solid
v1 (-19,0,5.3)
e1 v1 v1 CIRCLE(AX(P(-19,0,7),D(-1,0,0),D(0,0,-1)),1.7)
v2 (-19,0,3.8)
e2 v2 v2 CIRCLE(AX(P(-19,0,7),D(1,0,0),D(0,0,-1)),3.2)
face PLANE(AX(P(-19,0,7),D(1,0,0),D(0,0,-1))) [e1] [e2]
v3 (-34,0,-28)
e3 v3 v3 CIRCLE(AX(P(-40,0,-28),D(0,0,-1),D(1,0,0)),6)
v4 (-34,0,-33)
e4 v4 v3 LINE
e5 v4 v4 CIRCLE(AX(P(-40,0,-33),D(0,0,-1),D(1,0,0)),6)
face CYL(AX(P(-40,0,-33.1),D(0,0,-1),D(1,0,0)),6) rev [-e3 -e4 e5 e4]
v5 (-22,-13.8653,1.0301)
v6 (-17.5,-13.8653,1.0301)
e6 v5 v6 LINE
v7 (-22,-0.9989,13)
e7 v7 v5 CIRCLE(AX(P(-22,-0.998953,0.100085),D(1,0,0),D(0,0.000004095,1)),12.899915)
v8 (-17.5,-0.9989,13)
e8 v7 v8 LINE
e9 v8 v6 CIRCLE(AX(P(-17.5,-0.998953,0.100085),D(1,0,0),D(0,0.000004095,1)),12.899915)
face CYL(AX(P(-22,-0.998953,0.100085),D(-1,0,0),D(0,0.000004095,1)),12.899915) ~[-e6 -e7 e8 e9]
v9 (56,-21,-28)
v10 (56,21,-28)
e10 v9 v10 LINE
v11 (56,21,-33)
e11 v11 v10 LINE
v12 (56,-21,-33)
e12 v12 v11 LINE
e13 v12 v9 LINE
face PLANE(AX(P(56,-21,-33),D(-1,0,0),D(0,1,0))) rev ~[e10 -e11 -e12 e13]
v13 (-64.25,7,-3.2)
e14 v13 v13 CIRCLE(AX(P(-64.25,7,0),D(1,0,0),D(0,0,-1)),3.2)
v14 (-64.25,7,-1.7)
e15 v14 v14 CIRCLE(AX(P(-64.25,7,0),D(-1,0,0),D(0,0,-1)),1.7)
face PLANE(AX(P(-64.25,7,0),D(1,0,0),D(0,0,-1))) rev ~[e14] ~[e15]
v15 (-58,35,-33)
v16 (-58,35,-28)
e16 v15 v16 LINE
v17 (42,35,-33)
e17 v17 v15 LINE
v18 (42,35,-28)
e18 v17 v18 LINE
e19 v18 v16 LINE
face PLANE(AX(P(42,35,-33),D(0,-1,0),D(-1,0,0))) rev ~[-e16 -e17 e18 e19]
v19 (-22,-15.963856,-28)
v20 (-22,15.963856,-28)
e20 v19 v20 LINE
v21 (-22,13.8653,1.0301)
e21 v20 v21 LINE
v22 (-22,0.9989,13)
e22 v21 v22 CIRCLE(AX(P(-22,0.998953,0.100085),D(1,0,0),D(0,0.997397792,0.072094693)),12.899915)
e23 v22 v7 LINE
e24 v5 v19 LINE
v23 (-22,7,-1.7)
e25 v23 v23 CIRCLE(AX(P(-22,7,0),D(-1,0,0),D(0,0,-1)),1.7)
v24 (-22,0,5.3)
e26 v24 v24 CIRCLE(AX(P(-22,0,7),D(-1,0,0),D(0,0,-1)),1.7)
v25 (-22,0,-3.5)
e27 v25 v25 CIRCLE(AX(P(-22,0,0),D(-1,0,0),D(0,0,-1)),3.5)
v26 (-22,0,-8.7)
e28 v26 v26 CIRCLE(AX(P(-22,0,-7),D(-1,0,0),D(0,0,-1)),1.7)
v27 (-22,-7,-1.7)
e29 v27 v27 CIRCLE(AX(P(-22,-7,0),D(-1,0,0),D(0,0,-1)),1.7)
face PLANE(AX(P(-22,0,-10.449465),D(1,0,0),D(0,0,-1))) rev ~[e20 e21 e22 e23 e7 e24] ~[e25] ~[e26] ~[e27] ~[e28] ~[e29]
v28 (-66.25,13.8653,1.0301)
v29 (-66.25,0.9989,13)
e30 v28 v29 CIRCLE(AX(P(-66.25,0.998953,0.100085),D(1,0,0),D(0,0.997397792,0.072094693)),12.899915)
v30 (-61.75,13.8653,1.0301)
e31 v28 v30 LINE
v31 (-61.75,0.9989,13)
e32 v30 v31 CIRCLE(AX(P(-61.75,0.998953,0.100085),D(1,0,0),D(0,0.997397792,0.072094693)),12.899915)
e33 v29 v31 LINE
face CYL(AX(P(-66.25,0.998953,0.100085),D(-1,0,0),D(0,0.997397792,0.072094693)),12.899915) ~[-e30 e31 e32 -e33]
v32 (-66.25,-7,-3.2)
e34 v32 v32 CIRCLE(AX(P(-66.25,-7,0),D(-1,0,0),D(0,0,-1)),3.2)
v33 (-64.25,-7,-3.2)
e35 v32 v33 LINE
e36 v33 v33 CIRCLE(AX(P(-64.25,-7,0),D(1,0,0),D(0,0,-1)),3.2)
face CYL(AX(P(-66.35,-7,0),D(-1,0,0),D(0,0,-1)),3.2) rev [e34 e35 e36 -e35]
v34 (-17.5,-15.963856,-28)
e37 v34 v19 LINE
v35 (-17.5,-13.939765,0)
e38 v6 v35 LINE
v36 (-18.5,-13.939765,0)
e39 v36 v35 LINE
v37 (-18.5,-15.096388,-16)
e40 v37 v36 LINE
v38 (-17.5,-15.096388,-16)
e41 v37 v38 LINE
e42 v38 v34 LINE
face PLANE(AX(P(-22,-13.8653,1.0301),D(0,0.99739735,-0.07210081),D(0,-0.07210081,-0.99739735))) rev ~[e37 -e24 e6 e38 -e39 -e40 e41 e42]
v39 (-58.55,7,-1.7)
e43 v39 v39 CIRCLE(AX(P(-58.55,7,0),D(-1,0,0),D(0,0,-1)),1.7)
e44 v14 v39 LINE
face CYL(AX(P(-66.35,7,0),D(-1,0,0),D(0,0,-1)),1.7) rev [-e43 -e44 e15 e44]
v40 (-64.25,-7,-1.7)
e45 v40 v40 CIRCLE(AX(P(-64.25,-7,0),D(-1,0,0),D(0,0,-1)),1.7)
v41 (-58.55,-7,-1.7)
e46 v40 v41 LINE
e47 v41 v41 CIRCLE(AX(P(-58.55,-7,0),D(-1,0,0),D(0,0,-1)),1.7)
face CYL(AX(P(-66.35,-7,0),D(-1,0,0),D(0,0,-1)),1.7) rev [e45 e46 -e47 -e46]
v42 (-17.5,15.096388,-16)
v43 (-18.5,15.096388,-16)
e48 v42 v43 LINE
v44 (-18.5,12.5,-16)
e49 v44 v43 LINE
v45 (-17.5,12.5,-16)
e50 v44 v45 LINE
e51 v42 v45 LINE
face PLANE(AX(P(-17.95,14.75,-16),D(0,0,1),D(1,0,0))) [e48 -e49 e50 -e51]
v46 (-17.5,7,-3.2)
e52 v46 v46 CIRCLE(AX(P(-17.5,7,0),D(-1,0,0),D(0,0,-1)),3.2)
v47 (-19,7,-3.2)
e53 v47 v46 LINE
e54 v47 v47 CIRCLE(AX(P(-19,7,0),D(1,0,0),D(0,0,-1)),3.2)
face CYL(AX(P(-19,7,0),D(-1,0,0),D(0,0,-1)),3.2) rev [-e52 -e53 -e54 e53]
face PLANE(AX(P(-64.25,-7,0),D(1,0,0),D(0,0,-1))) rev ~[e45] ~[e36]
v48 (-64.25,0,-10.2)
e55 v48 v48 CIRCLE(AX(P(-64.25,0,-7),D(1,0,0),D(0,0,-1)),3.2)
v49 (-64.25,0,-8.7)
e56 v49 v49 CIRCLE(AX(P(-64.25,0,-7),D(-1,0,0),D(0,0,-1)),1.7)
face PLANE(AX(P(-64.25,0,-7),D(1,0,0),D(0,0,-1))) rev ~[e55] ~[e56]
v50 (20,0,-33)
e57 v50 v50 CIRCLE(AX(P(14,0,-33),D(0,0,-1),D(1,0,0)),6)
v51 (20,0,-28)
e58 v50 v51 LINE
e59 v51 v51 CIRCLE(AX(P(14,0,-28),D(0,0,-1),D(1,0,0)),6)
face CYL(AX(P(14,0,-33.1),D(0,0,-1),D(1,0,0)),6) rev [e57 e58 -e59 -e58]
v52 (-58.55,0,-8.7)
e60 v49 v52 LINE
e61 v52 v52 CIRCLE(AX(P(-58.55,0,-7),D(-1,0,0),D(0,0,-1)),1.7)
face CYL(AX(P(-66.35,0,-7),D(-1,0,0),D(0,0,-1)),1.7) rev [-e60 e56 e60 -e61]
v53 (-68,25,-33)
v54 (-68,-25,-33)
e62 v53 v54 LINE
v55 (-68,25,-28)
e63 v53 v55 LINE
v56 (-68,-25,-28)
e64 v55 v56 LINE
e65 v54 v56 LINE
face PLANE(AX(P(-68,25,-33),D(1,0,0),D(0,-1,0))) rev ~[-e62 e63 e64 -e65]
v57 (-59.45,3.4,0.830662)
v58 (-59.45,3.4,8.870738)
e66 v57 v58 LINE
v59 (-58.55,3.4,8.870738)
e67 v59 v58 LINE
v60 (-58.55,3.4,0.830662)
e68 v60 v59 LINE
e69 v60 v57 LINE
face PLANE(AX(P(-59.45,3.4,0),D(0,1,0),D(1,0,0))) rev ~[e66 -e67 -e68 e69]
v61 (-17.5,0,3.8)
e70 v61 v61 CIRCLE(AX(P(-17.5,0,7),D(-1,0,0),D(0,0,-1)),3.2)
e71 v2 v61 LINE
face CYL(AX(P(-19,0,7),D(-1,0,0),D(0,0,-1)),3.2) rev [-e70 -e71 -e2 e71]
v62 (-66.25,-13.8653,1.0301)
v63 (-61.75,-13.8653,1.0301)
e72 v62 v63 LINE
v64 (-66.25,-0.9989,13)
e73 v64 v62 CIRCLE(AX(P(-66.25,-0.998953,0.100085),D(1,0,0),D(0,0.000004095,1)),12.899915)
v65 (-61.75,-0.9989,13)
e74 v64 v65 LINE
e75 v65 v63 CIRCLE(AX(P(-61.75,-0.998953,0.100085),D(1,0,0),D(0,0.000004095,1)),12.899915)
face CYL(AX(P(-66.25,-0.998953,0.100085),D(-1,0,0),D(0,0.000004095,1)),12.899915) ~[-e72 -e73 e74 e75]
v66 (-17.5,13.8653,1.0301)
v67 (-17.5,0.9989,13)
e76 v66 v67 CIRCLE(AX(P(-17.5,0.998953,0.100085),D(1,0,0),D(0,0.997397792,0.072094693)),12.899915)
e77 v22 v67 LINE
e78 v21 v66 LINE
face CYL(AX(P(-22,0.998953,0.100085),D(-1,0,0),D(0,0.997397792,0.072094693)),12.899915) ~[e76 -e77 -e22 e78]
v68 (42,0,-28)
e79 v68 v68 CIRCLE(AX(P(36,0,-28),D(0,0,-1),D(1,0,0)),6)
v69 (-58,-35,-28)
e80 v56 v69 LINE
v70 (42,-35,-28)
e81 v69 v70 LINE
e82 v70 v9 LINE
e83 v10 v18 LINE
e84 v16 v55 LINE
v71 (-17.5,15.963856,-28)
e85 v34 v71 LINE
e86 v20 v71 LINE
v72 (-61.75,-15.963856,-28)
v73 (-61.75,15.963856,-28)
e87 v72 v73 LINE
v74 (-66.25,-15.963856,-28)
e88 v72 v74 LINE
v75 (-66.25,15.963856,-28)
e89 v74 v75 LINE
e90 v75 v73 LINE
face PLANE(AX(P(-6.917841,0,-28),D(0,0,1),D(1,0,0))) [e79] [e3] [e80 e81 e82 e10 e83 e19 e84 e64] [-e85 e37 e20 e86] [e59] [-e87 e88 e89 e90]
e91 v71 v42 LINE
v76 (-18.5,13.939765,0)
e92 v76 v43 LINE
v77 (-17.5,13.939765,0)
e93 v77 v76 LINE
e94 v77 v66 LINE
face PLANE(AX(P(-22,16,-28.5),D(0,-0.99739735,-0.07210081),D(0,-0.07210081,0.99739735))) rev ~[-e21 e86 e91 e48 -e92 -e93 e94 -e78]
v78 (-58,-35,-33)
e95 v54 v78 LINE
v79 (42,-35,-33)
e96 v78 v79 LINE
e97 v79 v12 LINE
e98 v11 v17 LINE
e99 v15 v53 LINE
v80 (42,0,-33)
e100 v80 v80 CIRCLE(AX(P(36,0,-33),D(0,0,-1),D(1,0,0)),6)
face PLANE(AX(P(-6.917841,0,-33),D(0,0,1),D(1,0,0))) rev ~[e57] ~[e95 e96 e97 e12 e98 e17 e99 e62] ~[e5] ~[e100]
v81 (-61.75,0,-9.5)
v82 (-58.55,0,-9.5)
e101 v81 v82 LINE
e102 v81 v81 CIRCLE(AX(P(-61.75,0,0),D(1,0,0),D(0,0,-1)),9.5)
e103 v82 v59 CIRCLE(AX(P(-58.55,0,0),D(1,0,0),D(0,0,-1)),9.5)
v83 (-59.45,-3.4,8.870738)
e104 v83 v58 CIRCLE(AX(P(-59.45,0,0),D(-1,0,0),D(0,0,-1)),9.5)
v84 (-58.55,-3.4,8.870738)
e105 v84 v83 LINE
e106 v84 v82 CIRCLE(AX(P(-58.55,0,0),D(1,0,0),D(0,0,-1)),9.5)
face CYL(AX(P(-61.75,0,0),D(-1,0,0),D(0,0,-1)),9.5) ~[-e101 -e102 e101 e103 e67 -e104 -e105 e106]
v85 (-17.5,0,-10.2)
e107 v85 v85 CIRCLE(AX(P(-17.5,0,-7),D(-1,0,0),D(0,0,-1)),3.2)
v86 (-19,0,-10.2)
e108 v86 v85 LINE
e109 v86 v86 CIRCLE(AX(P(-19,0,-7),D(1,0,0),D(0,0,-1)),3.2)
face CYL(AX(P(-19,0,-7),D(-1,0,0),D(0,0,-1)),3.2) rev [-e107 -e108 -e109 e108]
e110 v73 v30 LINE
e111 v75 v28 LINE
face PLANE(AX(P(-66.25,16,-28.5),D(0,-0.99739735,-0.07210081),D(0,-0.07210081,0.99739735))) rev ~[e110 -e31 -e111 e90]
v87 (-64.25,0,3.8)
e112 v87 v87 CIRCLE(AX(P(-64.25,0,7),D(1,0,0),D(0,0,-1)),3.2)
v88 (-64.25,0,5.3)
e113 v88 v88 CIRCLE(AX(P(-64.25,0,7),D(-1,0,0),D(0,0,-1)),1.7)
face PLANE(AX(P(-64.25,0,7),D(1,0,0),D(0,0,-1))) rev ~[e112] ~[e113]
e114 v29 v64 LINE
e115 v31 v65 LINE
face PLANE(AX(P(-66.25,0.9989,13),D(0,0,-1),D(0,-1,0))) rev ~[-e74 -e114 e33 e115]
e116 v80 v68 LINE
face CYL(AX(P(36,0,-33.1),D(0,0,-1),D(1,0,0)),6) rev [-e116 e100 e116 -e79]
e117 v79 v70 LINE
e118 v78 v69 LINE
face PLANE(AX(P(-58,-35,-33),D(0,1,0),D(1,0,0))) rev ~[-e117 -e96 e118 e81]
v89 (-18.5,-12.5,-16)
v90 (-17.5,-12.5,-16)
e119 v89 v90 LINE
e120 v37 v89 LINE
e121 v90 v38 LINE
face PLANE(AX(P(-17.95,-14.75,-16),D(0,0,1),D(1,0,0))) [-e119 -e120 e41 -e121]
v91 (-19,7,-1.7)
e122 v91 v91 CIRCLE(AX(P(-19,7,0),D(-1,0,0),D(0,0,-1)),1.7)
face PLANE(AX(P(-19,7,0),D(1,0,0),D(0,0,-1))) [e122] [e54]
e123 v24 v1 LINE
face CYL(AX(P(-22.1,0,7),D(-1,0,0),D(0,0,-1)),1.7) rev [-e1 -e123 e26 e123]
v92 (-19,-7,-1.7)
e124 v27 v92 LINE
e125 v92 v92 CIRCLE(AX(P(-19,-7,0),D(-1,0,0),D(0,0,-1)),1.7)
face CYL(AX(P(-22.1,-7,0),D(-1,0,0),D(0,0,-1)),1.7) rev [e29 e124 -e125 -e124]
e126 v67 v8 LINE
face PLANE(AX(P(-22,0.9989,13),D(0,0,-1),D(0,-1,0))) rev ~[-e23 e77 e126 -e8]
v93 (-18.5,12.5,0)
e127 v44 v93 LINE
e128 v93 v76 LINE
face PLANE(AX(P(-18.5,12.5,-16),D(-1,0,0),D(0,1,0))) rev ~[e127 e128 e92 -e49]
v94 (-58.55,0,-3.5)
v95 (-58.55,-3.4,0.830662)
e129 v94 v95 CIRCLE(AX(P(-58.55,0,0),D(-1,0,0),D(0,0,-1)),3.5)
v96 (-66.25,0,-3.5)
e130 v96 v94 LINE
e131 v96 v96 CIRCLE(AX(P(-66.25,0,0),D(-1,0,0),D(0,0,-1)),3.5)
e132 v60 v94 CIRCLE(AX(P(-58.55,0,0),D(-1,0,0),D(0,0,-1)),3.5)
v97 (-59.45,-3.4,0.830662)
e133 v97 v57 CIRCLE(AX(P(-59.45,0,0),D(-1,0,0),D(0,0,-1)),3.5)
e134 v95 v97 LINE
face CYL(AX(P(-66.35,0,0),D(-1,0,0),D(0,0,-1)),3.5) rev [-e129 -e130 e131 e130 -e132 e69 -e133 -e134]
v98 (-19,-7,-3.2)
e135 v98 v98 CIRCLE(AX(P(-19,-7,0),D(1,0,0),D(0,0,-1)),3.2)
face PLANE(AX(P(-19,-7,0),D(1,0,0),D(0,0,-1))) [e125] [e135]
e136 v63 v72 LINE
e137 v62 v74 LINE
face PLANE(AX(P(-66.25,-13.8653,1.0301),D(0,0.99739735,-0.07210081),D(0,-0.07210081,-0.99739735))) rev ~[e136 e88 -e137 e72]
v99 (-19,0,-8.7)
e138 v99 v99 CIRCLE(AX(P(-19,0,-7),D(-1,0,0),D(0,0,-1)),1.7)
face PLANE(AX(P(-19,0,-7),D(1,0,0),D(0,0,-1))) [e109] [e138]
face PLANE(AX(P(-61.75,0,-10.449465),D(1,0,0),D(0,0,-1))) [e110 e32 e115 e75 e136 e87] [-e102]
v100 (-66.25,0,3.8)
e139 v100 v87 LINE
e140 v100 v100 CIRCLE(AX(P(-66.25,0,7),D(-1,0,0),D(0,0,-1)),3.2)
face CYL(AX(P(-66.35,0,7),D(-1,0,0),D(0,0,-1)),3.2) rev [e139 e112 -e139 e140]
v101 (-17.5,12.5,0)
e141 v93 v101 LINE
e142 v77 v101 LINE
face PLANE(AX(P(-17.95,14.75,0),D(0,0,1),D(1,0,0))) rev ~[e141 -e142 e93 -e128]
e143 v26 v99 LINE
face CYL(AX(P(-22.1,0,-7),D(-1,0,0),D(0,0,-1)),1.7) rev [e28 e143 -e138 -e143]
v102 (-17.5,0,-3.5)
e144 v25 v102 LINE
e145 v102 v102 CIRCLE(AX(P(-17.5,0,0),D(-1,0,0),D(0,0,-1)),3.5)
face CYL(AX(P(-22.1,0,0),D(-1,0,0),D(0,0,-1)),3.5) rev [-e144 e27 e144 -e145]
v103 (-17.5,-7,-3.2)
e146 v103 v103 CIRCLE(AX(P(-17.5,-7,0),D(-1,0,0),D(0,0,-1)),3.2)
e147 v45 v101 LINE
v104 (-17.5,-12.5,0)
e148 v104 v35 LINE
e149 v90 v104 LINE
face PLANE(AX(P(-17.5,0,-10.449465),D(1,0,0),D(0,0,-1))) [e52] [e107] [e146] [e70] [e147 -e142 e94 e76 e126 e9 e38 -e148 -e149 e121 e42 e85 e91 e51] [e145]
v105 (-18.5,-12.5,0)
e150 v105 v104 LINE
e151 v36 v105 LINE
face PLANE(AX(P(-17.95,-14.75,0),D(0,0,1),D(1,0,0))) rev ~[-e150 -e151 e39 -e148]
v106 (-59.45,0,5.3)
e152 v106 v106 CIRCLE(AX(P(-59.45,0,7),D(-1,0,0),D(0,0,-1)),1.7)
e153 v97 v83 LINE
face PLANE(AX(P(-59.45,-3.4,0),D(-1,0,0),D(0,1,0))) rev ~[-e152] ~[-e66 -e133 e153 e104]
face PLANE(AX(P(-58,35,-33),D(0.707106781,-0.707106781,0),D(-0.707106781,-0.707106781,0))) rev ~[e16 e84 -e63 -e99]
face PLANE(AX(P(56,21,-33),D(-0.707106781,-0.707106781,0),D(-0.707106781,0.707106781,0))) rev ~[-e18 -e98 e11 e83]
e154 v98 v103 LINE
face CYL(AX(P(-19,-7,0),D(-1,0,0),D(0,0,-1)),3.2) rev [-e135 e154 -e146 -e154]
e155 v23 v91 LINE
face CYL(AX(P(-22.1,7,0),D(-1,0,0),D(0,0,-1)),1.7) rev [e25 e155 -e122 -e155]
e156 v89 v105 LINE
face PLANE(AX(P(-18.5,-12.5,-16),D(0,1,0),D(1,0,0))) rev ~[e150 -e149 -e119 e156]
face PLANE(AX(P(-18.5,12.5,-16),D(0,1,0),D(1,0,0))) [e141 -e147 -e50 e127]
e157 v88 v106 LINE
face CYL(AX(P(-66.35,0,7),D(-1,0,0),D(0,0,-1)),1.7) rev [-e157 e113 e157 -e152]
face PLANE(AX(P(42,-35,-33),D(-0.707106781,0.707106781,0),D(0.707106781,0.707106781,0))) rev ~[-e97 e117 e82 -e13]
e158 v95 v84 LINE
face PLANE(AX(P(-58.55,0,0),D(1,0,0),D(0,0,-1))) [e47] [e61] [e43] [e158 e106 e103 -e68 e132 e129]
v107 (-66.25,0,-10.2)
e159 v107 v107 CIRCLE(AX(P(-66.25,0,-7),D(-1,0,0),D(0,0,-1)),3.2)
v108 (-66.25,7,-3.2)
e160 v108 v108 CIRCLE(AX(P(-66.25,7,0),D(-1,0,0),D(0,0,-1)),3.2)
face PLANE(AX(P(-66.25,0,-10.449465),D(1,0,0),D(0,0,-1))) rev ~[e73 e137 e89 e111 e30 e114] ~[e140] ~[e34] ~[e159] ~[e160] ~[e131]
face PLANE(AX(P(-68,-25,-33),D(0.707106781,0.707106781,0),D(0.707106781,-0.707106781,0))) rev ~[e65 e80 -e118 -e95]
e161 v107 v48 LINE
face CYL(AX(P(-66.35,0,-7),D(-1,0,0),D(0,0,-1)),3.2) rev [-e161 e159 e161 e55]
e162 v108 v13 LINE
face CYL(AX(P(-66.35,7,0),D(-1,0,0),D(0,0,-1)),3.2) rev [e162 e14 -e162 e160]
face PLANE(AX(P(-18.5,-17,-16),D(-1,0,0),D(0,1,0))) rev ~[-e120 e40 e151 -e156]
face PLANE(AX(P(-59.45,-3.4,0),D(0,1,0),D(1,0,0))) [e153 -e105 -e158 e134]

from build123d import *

# Parameters (mm, degrees)
BOSS_1_DEPTH    = 5
BOSS_2_DEPTH    = 4.5
S_CYL3_R        = 9.5
BOSS_3_DEPTH    = 3.2
BOSS_4_DEPTH    = 4.5
S_HOLE5_R       = 3.5
HOLE_5_DEPTH    = 4.7
S_HOLE6_R       = 1.7
HOLE_6_DEPTH    = 4.7
S_HOLE7_R       = 1.7
HOLE_7_DEPTH    = 4.7
S_HOLE8_R       = 1.7
HOLE_8_DEPTH    = 4.7
S_HOLE9_R       = 1.7
HOLE_9_DEPTH    = 4.7
S_HOLE10_R      = 3.2
HOLE_10_DEPTH   = 1.6
S_HOLE11_R      = 3.2
HOLE_11_DEPTH   = 1.6
S_HOLE12_R      = 3.2
HOLE_12_DEPTH   = 1.6
S_HOLE13_R      = 3.2
HOLE_13_DEPTH   = 1.6
S_HOLE14_R      = 3.5
HOLE_14_DEPTH   = 7.9
S_HOLE15_R      = 1.7
HOLE_15_DEPTH   = 7.9
S_HOLE16_R      = 1.7
HOLE_16_DEPTH   = 7.9
S_HOLE17_R      = 1.7
HOLE_17_DEPTH   = 7.9
S_HOLE18_R      = 1.7
HOLE_18_DEPTH   = 7.9
S_HOLE19_R      = 3.2
HOLE_19_DEPTH   = 2.1
S_HOLE20_R      = 3.2
HOLE_20_DEPTH   = 2.1
S_HOLE21_R      = 3.2
HOLE_21_DEPTH   = 2.1
S_HOLE22_R      = 3.2
HOLE_22_DEPTH   = 2.1
S_CUT23_W       = 1
S_CUT23_H       = 6.8
POCKET_23_DEPTH = 10
S_HOLE24_R      = 6
HOLE_24_DEPTH   = 5.2
S_HOLE25_R      = 6
HOLE_25_DEPTH   = 5.2
S_HOLE26_R      = 6
HOLE_26_DEPTH   = 5.2
S_CUT27_W       = 1.1
S_CUT27_H       = 4.5
POCKET_27_DEPTH = 16
S_CUT28_W       = 1.1
S_CUT28_H       = 4.5
POCKET_28_DEPTH = 16


with BuildPart() as part:
    # S_prism1 → Boss_1 (new body)
    with BuildSketch(Plane.XY.offset(-33)):
        Polygon((56, -21), (56, 21), (42, 35), (-58, 35), (-68, 25), (-68, -25), (-58, -35), (42, -35), align=None)
    extrude(amount=BOSS_1_DEPTH)

    # S_prism2 → Boss_2 (add)
    with BuildSketch(Plane(origin=(-22, 0, 0), x_dir=(0, 0, -1), z_dir=(1, 0, 0))):
        with BuildLine():
            Line((28.5, -16), (28.5, 16))
            Line((28.5, 16), (-1.0301, 13.8653))
            ThreePointArc((-1.0301, 13.8653), (-9.544808445, 9.785590923), (-13, 0.9989))
            Line((-13, 0.9989), (-13, -0.9989))
            ThreePointArc((-13, -0.9989), (-9.544808445, -9.785590923), (-1.0301, -13.8653))
            Line((-1.0301, -13.8653), (28.5, -16))
        make_face()
    extrude(amount=BOSS_2_DEPTH)



with BuildPart() as body_2:
    # S_cyl3 → Boss_3 (new body)
    with BuildSketch(Plane(origin=(-61.75, 0, 0), x_dir=(0, 0, -1), z_dir=(1, 0, 0))):
        Circle(S_CYL3_R)
    extrude(amount=BOSS_3_DEPTH)


with BuildPart() as part_1:
    add(part.part)

    add(body_2.part)  # Boss_4 merges body 2
    # S_prism4 → Boss_4 (add)
    with BuildSketch(Plane(origin=(-66.25, 0, 0), x_dir=(0, 0, -1), z_dir=(1, 0, 0))):
        with BuildLine():
            Line((28.5, -16), (28.5, 16))
            Line((28.5, 16), (-1.0301, 13.8653))
            ThreePointArc((-1.0301, 13.8653), (-9.544808445, 9.785590923), (-13, 0.9989))
            Line((-13, 0.9989), (-13, -0.9989))
            ThreePointArc((-13, -0.9989), (-9.544808445, -9.785590923), (-1.0301, -13.8653))
            Line((-1.0301, -13.8653), (28.5, -16))
        make_face()
    extrude(amount=BOSS_4_DEPTH)

    # S_hole5 → Hole_5 (cut)
    with BuildSketch(Plane(origin=(-22.1, 0, 0), x_dir=(0, 0, -1), z_dir=(1, 0, 0))):
        Circle(S_HOLE5_R)
    extrude(amount=HOLE_5_DEPTH, mode=Mode.SUBTRACT)

    # S_hole6 → Hole_6 (cut)
    with BuildSketch(Plane(origin=(-22.1, 0, 0), x_dir=(0, 0, -1), z_dir=(1, 0, 0))):
        with Locations((0, 7)):
            Circle(S_HOLE6_R)
    extrude(amount=HOLE_6_DEPTH, mode=Mode.SUBTRACT)

    # S_hole7 → Hole_7 (cut)
    with BuildSketch(Plane(origin=(-22.1, 0, 0), x_dir=(0, 0, -1), z_dir=(1, 0, 0))):
        with Locations((-7, 0)):
            Circle(S_HOLE7_R)
    extrude(amount=HOLE_7_DEPTH, mode=Mode.SUBTRACT)

    # S_hole8 → Hole_8 (cut)
    with BuildSketch(Plane(origin=(-22.1, 0, 0), x_dir=(0, 0, -1), z_dir=(1, 0, 0))):
        with Locations((0, -7)):
            Circle(S_HOLE8_R)
    extrude(amount=HOLE_8_DEPTH, mode=Mode.SUBTRACT)

    # S_hole9 → Hole_9 (cut)
    with BuildSketch(Plane(origin=(-22.1, 0, 0), x_dir=(0, 0, -1), z_dir=(1, 0, 0))):
        with Locations((7, 0)):
            Circle(S_HOLE9_R)
    extrude(amount=HOLE_9_DEPTH, mode=Mode.SUBTRACT)

    # S_hole10 → Hole_10 (cut)
    with BuildSketch(Plane(origin=(-19, 0, 0), x_dir=(0, 0, -1), z_dir=(1, 0, 0))):
        with Locations((0, 7)):
            Circle(S_HOLE10_R)
    extrude(amount=HOLE_10_DEPTH, mode=Mode.SUBTRACT)

    # S_hole11 → Hole_11 (cut)
    with BuildSketch(Plane(origin=(-19, 0, 0), x_dir=(0, 0, -1), z_dir=(1, 0, 0))):
        with Locations((-7, 0)):
            Circle(S_HOLE11_R)
    extrude(amount=HOLE_11_DEPTH, mode=Mode.SUBTRACT)

    # S_hole12 → Hole_12 (cut)
    with BuildSketch(Plane(origin=(-19, 0, 0), x_dir=(0, 0, -1), z_dir=(1, 0, 0))):
        with Locations((0, -7)):
            Circle(S_HOLE12_R)
    extrude(amount=HOLE_12_DEPTH, mode=Mode.SUBTRACT)

    # S_hole13 → Hole_13 (cut)
    with BuildSketch(Plane(origin=(-19, 0, 0), x_dir=(0, 0, -1), z_dir=(1, 0, 0))):
        with Locations((7, 0)):
            Circle(S_HOLE13_R)
    extrude(amount=HOLE_13_DEPTH, mode=Mode.SUBTRACT)

    # S_hole14 → Hole_14 (cut)
    with BuildSketch(Plane(origin=(-66.35, 0, 0), x_dir=(0, 0, -1), z_dir=(1, 0, 0))):
        Circle(S_HOLE14_R)
    extrude(amount=HOLE_14_DEPTH, mode=Mode.SUBTRACT)

    # S_hole15 → Hole_15 (cut)
    with BuildSketch(Plane(origin=(-66.35, 0, 0), x_dir=(0, 0, -1), z_dir=(1, 0, 0))):
        with Locations((0, 7)):
            Circle(S_HOLE15_R)
    extrude(amount=HOLE_15_DEPTH, mode=Mode.SUBTRACT)

    # S_hole16 → Hole_16 (cut)
    with BuildSketch(Plane(origin=(-66.35, 0, 0), x_dir=(0, 0, -1), z_dir=(1, 0, 0))):
        with Locations((-7, 0)):
            Circle(S_HOLE16_R)
    extrude(amount=HOLE_16_DEPTH, mode=Mode.SUBTRACT)

    # S_hole17 → Hole_17 (cut)
    with BuildSketch(Plane(origin=(-66.35, 0, 0), x_dir=(0, 0, -1), z_dir=(1, 0, 0))):
        with Locations((0, -7)):
            Circle(S_HOLE17_R)
    extrude(amount=HOLE_17_DEPTH, mode=Mode.SUBTRACT)

    # S_hole18 → Hole_18 (cut)
    with BuildSketch(Plane(origin=(-66.35, 0, 0), x_dir=(0, 0, -1), z_dir=(1, 0, 0))):
        with Locations((7, 0)):
            Circle(S_HOLE18_R)
    extrude(amount=HOLE_18_DEPTH, mode=Mode.SUBTRACT)

    # S_hole19 → Hole_19 (cut)
    with BuildSketch(Plane(origin=(-66.35, 0, 0), x_dir=(0, 0, -1), z_dir=(1, 0, 0))):
        with Locations((0, 7)):
            Circle(S_HOLE19_R)
    extrude(amount=HOLE_19_DEPTH, mode=Mode.SUBTRACT)

    # S_hole20 → Hole_20 (cut)
    with BuildSketch(Plane(origin=(-66.35, 0, 0), x_dir=(0, 0, -1), z_dir=(1, 0, 0))):
        with Locations((-7, 0)):
            Circle(S_HOLE20_R)
    extrude(amount=HOLE_20_DEPTH, mode=Mode.SUBTRACT)

    # S_hole21 → Hole_21 (cut)
    with BuildSketch(Plane(origin=(-66.35, 0, 0), x_dir=(0, 0, -1), z_dir=(1, 0, 0))):
        with Locations((0, -7)):
            Circle(S_HOLE21_R)
    extrude(amount=HOLE_21_DEPTH, mode=Mode.SUBTRACT)

    # S_hole22 → Hole_22 (cut)
    with BuildSketch(Plane(origin=(-66.35, 0, 0), x_dir=(0, 0, -1), z_dir=(1, 0, 0))):
        with Locations((7, 0)):
            Circle(S_HOLE22_R)
    extrude(amount=HOLE_22_DEPTH, mode=Mode.SUBTRACT)

    # S_cut23 → Pocket_23 (cut)
    with BuildSketch(Plane.XY):
        with Locations((-58.95, 0)):
            Rectangle(S_CUT23_W, S_CUT23_H)
    extrude(amount=POCKET_23_DEPTH, mode=Mode.SUBTRACT)

    # S_hole24 → Hole_24 (cut)
    with BuildSketch(Plane.XY.offset(-33.1)):
        with Locations((-40, 0)):
            Circle(S_HOLE24_R)
    extrude(amount=HOLE_24_DEPTH, mode=Mode.SUBTRACT)

    # S_hole25 → Hole_25 (cut)
    with BuildSketch(Plane.XY.offset(-33.1)):
        with Locations((14, 0)):
            Circle(S_HOLE25_R)
    extrude(amount=HOLE_25_DEPTH, mode=Mode.SUBTRACT)

    # S_hole26 → Hole_26 (cut)
    with BuildSketch(Plane.XY.offset(-33.1)):
        with Locations((36, 0)):
            Circle(S_HOLE26_R)
    extrude(amount=HOLE_26_DEPTH, mode=Mode.SUBTRACT)

    # S_cut27 → Pocket_27 (cut)
    with BuildSketch(Plane.XY.offset(-16)):
        with Locations((-17.95, 14.75)):
            Rectangle(S_CUT27_W, S_CUT27_H)
    extrude(amount=POCKET_27_DEPTH, mode=Mode.SUBTRACT)

    # S_cut28 → Pocket_28 (cut)
    with BuildSketch(Plane.XY.offset(-16)):
        with Locations((-17.95, -14.75)):
            Rectangle(S_CUT28_W, S_CUT28_H)
    extrude(amount=POCKET_28_DEPTH, mode=Mode.SUBTRACT)


solid = part_1.part
